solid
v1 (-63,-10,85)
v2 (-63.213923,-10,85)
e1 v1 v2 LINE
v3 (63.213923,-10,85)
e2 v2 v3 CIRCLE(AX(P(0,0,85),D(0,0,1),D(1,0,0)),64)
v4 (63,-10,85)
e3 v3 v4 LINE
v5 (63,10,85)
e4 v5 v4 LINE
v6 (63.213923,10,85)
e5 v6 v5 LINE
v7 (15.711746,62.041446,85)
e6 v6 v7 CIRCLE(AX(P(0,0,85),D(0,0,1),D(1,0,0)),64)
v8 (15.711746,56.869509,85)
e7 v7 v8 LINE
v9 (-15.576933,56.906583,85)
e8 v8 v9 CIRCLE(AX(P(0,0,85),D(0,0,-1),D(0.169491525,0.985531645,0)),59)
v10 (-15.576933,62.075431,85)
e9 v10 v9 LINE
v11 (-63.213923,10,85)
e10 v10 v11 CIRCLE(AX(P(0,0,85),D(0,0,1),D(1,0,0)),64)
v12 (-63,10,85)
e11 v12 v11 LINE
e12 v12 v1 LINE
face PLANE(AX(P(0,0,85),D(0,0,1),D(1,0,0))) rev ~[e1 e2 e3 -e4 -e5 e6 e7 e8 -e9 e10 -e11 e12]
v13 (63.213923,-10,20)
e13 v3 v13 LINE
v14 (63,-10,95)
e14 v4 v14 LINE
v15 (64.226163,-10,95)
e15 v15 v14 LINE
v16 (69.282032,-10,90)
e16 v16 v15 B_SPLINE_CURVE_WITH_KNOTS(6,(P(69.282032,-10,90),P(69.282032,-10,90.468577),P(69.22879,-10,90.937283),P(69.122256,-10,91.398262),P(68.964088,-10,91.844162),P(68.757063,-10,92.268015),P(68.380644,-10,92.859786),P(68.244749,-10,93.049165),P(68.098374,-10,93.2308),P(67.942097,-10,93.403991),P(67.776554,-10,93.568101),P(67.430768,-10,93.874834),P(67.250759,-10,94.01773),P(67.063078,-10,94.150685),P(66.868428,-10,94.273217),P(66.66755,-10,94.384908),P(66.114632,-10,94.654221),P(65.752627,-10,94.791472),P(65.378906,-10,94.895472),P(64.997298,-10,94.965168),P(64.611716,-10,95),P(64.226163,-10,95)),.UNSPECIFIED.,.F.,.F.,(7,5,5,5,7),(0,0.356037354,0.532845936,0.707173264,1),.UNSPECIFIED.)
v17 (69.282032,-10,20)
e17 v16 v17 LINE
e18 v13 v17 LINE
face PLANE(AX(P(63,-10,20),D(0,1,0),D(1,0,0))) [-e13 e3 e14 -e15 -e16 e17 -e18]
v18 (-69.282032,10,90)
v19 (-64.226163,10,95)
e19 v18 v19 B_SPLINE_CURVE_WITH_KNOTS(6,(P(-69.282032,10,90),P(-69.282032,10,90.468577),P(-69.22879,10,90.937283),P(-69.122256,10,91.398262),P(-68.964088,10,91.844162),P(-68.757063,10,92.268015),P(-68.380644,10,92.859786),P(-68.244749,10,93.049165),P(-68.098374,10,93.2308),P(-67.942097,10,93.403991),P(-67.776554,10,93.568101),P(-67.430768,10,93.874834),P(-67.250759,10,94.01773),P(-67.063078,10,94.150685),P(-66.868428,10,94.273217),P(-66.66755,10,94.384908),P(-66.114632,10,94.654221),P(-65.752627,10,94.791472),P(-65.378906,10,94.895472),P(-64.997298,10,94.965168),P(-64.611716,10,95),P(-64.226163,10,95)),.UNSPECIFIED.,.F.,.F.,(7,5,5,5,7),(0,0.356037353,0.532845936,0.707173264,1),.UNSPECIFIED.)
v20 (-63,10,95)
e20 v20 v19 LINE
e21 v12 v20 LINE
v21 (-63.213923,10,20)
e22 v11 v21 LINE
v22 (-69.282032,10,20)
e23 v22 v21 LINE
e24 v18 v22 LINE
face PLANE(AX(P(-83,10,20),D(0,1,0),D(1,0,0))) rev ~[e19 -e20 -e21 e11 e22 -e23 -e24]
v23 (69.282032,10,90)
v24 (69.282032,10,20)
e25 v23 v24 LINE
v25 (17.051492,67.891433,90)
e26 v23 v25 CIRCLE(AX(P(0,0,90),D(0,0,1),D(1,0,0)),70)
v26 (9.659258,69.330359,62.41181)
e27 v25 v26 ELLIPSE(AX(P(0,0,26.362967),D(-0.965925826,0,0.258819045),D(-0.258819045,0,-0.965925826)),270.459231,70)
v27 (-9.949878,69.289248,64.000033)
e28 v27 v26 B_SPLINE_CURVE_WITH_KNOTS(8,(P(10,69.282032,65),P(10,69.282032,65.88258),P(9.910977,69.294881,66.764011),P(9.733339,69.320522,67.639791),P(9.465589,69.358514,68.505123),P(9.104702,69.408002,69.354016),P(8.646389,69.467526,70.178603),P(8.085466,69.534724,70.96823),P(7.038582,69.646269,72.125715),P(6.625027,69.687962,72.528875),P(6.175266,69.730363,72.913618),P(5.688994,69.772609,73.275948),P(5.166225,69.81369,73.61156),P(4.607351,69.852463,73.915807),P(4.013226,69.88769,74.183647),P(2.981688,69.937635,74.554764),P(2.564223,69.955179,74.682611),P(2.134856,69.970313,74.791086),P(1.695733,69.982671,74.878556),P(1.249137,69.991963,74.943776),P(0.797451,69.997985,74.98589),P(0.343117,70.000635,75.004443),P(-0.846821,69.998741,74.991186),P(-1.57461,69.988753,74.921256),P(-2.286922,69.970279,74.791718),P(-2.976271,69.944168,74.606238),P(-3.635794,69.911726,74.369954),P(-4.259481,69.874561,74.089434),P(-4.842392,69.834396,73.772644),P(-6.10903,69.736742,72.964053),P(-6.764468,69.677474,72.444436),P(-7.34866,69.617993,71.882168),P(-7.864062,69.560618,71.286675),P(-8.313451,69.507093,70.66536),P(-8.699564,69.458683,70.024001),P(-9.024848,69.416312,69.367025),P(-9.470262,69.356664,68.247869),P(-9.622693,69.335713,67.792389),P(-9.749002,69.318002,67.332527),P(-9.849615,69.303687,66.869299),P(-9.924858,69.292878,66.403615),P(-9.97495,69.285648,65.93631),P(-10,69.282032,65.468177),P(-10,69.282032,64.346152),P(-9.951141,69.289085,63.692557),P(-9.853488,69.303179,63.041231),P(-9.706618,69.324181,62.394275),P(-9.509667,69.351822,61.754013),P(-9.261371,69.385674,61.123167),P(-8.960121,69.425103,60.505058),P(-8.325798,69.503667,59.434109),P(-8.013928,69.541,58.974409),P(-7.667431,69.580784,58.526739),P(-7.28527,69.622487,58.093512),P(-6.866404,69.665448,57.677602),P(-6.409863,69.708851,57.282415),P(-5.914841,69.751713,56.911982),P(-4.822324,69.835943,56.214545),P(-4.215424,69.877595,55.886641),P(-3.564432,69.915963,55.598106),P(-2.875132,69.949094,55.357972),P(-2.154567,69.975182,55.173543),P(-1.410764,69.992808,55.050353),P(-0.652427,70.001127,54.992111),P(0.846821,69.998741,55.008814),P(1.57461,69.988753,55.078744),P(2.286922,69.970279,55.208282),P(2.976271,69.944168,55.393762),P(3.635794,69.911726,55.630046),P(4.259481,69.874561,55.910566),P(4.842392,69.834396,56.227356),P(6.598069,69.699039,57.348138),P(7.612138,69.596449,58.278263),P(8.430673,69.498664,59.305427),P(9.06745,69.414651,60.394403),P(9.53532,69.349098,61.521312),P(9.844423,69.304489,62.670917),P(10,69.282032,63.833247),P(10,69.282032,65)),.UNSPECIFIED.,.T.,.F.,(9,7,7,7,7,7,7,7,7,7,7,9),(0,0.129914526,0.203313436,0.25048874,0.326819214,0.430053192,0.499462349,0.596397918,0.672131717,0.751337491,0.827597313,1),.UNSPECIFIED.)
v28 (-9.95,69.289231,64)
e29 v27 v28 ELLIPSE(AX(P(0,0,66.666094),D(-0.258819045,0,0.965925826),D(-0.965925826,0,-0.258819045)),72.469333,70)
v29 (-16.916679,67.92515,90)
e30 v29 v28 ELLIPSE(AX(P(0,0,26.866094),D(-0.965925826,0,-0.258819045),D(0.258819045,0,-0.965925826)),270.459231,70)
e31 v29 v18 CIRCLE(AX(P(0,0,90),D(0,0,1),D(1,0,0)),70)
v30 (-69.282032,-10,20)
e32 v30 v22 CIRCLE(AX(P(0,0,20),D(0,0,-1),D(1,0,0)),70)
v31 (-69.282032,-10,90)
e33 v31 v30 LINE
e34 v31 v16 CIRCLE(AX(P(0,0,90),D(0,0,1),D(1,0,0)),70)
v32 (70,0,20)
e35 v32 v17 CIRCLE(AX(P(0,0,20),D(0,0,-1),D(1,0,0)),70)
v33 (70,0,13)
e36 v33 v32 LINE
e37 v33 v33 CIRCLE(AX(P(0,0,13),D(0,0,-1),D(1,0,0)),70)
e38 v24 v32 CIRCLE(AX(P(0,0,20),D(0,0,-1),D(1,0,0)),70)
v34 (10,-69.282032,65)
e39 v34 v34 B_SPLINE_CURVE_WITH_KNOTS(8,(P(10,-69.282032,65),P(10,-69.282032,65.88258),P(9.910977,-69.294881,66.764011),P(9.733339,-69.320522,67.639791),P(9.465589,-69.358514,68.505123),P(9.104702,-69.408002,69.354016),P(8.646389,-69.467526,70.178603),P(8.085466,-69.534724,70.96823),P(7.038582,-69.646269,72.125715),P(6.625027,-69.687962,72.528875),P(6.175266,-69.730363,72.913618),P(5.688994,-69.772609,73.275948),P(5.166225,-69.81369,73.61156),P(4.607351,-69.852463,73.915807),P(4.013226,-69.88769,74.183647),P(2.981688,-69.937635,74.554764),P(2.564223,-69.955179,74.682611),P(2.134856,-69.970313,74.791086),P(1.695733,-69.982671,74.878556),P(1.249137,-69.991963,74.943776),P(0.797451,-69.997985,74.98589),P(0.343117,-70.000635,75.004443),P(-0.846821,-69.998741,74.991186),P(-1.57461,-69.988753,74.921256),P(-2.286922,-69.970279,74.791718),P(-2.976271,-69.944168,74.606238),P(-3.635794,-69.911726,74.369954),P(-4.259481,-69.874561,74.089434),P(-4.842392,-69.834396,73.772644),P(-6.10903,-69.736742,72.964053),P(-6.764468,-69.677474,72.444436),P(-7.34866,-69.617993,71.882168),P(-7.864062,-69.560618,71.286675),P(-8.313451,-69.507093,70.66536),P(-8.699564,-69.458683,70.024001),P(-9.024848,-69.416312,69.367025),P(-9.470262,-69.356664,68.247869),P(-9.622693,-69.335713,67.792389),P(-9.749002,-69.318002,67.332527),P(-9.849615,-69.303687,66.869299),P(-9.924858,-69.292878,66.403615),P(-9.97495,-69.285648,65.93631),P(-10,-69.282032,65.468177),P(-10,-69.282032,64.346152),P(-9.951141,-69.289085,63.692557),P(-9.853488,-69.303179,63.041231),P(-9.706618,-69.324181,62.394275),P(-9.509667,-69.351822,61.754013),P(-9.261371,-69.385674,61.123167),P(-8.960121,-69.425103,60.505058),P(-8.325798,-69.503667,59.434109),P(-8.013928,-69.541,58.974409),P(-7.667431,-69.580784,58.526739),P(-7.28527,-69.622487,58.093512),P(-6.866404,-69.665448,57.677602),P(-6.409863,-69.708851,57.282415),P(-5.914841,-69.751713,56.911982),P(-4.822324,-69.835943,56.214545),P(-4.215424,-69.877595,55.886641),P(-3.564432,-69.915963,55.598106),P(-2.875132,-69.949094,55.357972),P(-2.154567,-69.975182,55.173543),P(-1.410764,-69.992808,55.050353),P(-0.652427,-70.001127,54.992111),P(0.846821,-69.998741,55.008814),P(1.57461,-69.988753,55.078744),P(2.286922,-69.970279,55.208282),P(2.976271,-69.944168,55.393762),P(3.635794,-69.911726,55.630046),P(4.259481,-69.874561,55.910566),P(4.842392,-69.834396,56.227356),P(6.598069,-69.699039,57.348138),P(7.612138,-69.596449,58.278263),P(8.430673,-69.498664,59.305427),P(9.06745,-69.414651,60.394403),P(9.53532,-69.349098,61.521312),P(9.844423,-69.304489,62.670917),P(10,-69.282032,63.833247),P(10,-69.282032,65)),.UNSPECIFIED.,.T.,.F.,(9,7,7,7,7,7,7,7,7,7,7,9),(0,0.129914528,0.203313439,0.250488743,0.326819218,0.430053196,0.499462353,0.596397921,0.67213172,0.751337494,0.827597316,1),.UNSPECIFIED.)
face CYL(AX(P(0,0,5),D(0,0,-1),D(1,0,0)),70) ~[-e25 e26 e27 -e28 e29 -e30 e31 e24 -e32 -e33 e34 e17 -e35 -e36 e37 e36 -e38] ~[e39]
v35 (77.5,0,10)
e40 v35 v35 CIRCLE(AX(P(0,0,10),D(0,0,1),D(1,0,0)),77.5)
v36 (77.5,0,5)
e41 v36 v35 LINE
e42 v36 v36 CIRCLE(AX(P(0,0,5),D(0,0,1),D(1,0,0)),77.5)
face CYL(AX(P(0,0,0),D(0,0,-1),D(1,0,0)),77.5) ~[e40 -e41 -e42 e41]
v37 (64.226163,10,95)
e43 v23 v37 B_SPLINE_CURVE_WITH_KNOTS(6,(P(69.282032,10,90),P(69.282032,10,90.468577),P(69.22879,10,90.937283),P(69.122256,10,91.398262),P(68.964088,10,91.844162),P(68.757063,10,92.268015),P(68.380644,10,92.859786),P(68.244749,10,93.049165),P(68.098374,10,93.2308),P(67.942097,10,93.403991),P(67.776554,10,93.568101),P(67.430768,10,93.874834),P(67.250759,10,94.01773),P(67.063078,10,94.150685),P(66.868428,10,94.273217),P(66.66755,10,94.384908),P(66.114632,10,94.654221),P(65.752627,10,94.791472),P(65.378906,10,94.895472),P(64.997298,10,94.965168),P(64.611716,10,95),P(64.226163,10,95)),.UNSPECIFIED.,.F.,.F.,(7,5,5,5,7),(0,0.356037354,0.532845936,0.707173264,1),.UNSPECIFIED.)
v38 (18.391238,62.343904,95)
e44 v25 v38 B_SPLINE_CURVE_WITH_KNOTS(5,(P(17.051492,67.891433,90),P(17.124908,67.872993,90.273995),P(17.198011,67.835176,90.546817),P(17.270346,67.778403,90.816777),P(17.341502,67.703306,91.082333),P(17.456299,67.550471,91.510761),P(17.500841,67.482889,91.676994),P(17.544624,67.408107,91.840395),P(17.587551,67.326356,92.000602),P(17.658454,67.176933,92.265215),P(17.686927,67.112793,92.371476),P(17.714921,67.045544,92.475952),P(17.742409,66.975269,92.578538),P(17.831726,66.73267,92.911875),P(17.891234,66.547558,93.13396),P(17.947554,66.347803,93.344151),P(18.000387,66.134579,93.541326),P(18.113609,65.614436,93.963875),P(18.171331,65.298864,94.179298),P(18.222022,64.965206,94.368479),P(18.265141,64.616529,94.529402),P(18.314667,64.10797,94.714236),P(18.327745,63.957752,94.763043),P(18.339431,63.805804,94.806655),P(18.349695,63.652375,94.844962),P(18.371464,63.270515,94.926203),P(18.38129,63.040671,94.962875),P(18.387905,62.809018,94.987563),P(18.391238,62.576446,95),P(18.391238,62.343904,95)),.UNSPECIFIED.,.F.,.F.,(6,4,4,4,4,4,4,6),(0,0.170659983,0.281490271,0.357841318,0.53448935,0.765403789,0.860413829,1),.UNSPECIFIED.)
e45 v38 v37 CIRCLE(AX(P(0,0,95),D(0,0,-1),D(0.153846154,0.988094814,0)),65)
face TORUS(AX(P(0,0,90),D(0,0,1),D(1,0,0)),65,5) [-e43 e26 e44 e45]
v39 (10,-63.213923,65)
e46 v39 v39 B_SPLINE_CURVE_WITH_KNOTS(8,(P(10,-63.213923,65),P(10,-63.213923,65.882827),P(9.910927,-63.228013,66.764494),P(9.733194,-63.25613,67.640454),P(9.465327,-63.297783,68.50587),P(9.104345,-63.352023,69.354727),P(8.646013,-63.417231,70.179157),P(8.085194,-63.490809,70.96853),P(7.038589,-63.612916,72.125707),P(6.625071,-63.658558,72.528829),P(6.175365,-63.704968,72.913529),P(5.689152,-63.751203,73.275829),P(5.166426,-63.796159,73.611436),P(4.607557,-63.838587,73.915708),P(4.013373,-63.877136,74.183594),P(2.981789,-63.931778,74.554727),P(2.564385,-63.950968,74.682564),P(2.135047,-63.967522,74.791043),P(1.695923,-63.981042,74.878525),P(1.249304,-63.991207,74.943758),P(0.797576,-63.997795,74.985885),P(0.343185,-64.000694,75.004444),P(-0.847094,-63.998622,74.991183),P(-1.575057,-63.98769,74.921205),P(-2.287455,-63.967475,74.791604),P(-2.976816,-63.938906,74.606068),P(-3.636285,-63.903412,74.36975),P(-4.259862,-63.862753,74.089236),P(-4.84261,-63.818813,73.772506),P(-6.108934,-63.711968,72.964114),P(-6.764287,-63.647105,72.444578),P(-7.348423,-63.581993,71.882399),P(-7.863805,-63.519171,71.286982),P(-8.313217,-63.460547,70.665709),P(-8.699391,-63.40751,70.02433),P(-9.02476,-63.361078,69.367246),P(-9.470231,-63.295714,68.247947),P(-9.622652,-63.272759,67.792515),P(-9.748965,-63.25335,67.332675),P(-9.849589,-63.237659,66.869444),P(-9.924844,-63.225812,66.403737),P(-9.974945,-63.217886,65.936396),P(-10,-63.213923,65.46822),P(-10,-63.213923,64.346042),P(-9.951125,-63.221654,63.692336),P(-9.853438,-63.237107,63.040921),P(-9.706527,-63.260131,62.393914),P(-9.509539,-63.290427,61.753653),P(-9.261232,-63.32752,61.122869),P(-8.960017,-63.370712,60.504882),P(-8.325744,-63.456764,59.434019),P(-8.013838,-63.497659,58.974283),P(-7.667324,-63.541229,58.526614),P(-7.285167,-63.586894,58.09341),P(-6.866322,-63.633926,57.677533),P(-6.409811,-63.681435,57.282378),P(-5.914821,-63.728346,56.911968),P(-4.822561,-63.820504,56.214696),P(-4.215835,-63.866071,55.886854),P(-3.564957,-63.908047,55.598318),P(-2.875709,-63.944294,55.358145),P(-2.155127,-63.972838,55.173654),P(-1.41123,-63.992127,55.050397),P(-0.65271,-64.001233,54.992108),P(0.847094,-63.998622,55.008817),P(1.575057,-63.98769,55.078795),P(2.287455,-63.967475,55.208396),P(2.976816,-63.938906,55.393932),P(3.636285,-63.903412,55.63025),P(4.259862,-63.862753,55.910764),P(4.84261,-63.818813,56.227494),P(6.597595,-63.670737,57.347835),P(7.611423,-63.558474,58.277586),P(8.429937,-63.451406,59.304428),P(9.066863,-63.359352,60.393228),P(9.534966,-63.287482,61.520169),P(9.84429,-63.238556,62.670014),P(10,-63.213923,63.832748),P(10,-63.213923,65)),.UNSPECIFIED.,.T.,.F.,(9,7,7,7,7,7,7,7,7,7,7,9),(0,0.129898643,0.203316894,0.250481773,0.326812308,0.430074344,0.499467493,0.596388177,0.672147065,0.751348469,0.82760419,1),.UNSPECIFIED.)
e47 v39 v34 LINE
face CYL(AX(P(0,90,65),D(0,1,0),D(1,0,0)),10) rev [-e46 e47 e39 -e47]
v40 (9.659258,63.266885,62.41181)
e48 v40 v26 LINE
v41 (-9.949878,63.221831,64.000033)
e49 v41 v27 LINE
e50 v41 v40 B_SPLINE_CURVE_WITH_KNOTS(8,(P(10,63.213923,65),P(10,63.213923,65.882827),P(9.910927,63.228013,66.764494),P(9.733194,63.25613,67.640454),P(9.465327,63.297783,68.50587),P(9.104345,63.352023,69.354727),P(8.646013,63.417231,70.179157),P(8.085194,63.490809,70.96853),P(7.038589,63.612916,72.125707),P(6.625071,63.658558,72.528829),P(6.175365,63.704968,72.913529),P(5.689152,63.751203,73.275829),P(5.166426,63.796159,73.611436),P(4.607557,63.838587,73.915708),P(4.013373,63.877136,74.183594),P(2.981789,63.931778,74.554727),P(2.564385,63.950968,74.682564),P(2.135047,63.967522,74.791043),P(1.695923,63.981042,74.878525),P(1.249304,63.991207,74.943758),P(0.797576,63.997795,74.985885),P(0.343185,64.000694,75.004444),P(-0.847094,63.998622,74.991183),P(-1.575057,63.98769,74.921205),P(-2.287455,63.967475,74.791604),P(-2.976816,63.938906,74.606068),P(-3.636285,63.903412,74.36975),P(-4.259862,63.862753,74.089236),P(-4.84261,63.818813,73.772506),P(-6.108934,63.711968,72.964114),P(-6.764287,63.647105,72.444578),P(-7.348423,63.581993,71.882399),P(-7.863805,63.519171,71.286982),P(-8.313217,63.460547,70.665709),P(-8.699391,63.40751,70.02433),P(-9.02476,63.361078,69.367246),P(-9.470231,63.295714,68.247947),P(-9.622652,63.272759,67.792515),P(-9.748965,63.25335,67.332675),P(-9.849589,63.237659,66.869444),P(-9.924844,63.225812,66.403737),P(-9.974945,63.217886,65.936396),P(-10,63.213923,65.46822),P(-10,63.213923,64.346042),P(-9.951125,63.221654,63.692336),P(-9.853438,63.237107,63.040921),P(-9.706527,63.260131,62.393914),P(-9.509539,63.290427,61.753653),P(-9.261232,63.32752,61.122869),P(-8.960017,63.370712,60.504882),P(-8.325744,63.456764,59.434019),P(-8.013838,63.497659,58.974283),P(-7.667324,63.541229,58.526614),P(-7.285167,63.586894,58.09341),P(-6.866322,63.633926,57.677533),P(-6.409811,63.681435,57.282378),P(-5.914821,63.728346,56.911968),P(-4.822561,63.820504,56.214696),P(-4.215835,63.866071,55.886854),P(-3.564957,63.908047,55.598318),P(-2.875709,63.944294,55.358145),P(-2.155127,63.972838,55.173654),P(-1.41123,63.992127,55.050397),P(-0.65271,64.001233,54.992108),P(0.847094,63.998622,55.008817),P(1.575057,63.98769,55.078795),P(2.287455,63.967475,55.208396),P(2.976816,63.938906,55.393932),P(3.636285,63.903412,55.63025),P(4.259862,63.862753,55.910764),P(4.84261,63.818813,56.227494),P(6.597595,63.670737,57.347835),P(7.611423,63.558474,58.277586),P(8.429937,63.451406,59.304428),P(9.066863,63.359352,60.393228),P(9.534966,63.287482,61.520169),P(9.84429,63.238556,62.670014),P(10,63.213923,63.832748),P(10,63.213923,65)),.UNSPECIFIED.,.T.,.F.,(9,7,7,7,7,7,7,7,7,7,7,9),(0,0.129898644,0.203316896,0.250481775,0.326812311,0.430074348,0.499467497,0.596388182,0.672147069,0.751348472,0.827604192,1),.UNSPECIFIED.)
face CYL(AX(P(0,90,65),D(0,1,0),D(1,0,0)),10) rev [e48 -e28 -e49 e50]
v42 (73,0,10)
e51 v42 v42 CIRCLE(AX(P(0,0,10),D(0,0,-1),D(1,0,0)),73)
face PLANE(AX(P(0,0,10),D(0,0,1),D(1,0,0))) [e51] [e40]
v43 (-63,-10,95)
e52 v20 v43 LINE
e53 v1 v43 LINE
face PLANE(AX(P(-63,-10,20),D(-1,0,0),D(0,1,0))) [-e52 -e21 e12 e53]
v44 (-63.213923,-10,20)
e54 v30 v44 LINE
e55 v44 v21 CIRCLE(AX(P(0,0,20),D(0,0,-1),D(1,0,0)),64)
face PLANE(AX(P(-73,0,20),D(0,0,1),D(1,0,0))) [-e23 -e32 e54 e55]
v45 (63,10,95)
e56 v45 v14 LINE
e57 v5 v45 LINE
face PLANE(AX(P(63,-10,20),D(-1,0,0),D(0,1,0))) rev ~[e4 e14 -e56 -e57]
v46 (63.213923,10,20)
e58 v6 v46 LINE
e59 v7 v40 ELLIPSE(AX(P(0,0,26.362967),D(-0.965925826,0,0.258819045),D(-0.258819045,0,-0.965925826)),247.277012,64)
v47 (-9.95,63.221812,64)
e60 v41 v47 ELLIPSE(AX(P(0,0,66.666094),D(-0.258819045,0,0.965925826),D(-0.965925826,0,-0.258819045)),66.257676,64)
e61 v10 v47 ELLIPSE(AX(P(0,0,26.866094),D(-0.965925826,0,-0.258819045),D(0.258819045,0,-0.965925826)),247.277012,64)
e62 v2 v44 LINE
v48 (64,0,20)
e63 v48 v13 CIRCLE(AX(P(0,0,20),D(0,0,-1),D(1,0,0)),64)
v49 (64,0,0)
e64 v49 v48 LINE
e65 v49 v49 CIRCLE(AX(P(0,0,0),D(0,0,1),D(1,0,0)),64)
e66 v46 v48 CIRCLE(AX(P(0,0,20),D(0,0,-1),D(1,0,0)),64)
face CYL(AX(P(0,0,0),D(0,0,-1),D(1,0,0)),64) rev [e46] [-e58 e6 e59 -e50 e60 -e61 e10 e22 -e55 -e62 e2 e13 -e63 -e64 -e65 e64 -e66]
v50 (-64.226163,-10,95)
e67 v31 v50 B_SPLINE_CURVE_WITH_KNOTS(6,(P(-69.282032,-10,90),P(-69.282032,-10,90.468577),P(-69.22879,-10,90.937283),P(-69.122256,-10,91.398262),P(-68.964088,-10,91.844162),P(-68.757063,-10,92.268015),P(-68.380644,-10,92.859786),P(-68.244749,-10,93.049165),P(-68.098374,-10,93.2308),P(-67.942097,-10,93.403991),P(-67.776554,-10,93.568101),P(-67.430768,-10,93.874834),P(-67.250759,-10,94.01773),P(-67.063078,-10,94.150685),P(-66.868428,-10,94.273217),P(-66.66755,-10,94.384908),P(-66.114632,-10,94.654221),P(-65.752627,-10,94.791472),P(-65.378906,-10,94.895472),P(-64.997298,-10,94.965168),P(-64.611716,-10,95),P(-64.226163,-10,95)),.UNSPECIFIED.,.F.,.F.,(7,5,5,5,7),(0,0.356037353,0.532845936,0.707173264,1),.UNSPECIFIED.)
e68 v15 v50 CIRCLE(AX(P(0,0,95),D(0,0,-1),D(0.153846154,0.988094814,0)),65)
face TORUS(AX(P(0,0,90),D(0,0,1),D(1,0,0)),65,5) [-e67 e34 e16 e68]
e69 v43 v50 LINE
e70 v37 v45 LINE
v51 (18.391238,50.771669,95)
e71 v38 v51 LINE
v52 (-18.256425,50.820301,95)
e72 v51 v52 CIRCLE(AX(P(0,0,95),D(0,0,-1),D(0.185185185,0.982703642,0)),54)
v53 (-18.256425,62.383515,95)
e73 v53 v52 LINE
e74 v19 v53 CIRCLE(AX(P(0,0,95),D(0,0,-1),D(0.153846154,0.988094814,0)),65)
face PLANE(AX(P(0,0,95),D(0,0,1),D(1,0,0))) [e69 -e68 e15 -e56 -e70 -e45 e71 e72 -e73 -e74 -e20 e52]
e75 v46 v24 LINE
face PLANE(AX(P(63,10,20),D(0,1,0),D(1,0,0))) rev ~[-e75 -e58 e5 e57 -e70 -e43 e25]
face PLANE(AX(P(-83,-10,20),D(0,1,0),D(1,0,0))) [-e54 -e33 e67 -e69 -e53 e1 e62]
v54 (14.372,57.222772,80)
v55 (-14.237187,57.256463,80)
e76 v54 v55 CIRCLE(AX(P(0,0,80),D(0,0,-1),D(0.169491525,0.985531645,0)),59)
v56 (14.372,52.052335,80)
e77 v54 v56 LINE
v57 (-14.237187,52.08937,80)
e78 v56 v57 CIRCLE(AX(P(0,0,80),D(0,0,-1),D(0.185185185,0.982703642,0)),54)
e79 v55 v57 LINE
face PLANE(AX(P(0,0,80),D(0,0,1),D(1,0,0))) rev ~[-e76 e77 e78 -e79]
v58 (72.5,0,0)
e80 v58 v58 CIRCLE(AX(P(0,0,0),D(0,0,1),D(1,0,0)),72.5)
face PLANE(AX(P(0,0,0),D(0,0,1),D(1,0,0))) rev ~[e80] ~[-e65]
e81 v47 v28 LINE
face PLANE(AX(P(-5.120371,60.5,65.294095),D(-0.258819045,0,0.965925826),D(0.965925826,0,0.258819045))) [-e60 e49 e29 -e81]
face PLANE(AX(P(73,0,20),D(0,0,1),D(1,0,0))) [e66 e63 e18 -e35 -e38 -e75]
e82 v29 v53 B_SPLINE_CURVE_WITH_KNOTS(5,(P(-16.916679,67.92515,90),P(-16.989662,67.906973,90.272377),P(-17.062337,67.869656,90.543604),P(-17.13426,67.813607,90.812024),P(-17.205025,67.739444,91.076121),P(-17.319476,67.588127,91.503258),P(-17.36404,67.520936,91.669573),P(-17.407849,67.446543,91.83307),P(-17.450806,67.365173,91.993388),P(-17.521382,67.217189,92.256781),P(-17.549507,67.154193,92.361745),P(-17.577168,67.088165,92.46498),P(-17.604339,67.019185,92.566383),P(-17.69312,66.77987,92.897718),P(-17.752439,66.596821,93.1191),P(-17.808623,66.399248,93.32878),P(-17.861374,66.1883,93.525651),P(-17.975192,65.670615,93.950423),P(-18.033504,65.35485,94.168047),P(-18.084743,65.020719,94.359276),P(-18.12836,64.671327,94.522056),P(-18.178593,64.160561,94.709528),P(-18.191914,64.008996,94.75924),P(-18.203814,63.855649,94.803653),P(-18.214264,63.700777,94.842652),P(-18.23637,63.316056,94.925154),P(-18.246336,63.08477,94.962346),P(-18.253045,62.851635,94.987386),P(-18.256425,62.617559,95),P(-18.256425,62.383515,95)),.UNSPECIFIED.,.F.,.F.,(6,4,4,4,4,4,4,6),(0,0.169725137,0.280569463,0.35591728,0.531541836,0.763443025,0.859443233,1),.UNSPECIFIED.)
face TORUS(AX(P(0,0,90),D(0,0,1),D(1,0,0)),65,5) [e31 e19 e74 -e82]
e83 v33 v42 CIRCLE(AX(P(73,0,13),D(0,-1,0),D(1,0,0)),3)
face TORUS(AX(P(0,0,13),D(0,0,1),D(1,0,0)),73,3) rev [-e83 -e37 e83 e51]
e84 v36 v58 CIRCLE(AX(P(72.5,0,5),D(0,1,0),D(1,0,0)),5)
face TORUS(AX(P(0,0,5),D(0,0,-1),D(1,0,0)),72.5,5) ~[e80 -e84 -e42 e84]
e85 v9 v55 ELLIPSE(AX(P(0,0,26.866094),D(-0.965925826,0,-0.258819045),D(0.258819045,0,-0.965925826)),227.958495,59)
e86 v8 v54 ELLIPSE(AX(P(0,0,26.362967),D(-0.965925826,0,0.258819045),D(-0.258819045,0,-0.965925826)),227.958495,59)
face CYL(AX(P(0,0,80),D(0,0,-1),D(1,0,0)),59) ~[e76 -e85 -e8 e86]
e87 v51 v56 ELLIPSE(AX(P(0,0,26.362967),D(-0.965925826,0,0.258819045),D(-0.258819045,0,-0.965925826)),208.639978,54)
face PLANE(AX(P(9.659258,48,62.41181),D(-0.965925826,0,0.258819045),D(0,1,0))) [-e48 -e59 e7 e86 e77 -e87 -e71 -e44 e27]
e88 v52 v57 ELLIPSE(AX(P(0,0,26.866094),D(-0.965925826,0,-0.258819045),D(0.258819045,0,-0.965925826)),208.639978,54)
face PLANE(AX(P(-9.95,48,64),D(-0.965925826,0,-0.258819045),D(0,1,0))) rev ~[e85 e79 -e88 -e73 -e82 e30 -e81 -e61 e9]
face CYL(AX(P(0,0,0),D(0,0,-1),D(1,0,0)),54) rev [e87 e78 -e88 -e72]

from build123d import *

# Parameters (mm, degrees)
BOX004_W               = 20
BOX004_H               = 20
BOX004_DEPTH           = 80
BOX003_W               = 20
BOX003_H               = 20
BOX003_DEPTH           = 80
BOX002_W               = 10
BOX002_H               = 25
BOX002_DEPTH           = 35
BOX002_PITCH_ANGLE     = -15
BOX001_W               = 10
BOX001_H               = 25
BOX001_DEPTH           = 35
BOX001_PITCH_ANGLE     = 15
BOX_W                  = 20
BOX_H                  = 25
BOX_DEPTH              = 35
CYLINDER005_R          = 10
CYLINDER005_DEPTH      = 180
CYLINDER005_ROLL_ANGLE = 90
CYLINDER004_R          = 54
CYLINDER004_DEPTH      = 100
CYLINDER003_R          = 59
CYLINDER003_DEPTH      = 10
CYLINDER002_R          = 64
CYLINDER002_DEPTH      = 85
CYLINDER001_R          = 70
CYLINDER001_DEPTH      = 90
CYLINDER_R             = 77.5
CYLINDER_DEPTH         = 10
FILLET_R               = 3
FILLET001_R            = 5
FILLET002_R            = 5


with BuildPart() as tab_cut_l:
    # Box004 → Box004 (new body)
    with BuildSketch(Plane(origin=(-83, -10, 20), x_dir=(1, 0, 0), z_dir=(0, 0, 1))):
        with Locations((10, 10)):
            Rectangle(BOX004_W, BOX004_H)
    extrude(amount=BOX004_DEPTH)


with BuildPart() as tab_cut_r:
    # Box003 → Box003 (new body)
    with BuildSketch(Plane(origin=(63, -10, 20), x_dir=(1, 0, 0), z_dir=(0, 0, 1))):
        with Locations((10, 10)):
            Rectangle(BOX003_W, BOX003_H)
    extrude(amount=BOX003_DEPTH)


with BuildPart() as cube001:
    # Box002 → Box002 (new body)
    with BuildSketch(Plane.XY):
        with Locations((5, 12.5)):
            Rectangle(BOX002_W, BOX002_H)
    extrude(amount=BOX002_DEPTH)


with BuildPart() as cube001_1:
    # Box002 pitch: moved
    add(cube001.part.rotate(Axis((0, 0, 0), (0, 1, 0)), BOX002_PITCH_ANGLE))


with BuildPart() as cube001_2:
    # Box002 placement: moved
    add(cube001_1.part.moved(Location((-9.95, 48, 64))))


with BuildPart() as cube:
    # Box001 → Box001 (new body)
    with BuildSketch(Plane.XY):
        with Locations((5, 12.5)):
            Rectangle(BOX001_W, BOX001_H)
    extrude(amount=BOX001_DEPTH)


with BuildPart() as cube_1:
    # Box001 pitch: moved
    add(cube.part.rotate(Axis((0, 0, 0), (0, 1, 0)), BOX001_PITCH_ANGLE))


with BuildPart() as cube_2:
    # Box001 placement: moved
    add(cube_1.part.moved(Location((0, 48, 65))))


with BuildPart() as bearing_slot:
    # Box → Box (new body)
    with BuildSketch(Plane(origin=(-10, 48, 65), x_dir=(1, 0, 0), z_dir=(0, 0, 1))):
        with Locations((10, 12.5)):
            Rectangle(BOX_W, BOX_H)
    extrude(amount=BOX_DEPTH)


with BuildPart() as bearing_holes:
    # Cylinder005 → Cylinder005 (new body)
    with BuildSketch(Plane.XY):
        Circle(CYLINDER005_R)
    extrude(amount=CYLINDER005_DEPTH)


with BuildPart() as bearing_holes_1:
    # Cylinder005 roll: moved
    add(bearing_holes.part.rotate(Axis((0, 0, 0), (1, 0, 0)), CYLINDER005_ROLL_ANGLE))


with BuildPart() as bearing_holes_2:
    # Cylinder005 placement: moved
    add(bearing_holes_1.part.moved(Location((0, 90, 65))))


with BuildPart() as through_hole:
    # Cylinder004 → Cylinder004 (new body)
    with BuildSketch(Plane.XY):
        Circle(CYLINDER004_R)
    extrude(amount=CYLINDER004_DEPTH)


with BuildPart() as inner_lip:
    # Cylinder003 → Cylinder003 (new body)
    with BuildSketch(Plane.XY.offset(80)):
        Circle(CYLINDER003_R)
    extrude(amount=CYLINDER003_DEPTH)


with BuildPart() as inner_hole:
    # Cylinder002 → Cylinder002 (new body)
    with BuildSketch(Plane.XY):
        Circle(CYLINDER002_R)
    extrude(amount=CYLINDER002_DEPTH)


with BuildPart() as body_cylinder:
    # Cylinder001 → Cylinder001 (new body)
    with BuildSketch(Plane.XY.offset(5)):
        Circle(CYLINDER001_R)
    extrude(amount=CYLINDER001_DEPTH)


with BuildPart() as cut007:
    # Cylinder → Cylinder (new body)
    with BuildSketch(Plane.XY):
        Circle(CYLINDER_R)
    extrude(amount=CYLINDER_DEPTH)

    # Fusion: union Body_Cylinder
    add(body_cylinder.part)

    # Cut: cut Inner_Hole
    add(inner_hole.part, mode=Mode.SUBTRACT)

    # Fusion001: union Inner_Lip
    add(inner_lip.part)

    # Cut001: cut Through_Hole
    add(through_hole.part, mode=Mode.SUBTRACT)

    # Fillet
    fillet_edges = [cut007.edges().sort_by_distance(p)[0] for p in [
        (-70, 0, 10),
    ]]
    fillet(fillet_edges, radius=FILLET_R)

    # Fillet001
    fillet001_edges = [cut007.edges().sort_by_distance(p)[0] for p in [
        (-77.5, 0, 0),
    ]]
    fillet(fillet001_edges, radius=FILLET001_R)

    # Fillet002
    fillet002_edges = [cut007.edges().sort_by_distance(p)[0] for p in [
        (-70, 0, 95),
    ]]
    fillet(fillet002_edges, radius=FILLET002_R)

    # Cut002: cut Bearing_Holes
    add(bearing_holes_2.part, mode=Mode.SUBTRACT)

    # Cut003: cut Bearing_Slot
    add(bearing_slot.part, mode=Mode.SUBTRACT)

    # Cut004: cut Cube
    add(cube_2.part, mode=Mode.SUBTRACT)

    # Cut005: cut Cube001
    add(cube001_2.part, mode=Mode.SUBTRACT)

    # Cut006: cut Tab_Cut_R
    add(tab_cut_r.part, mode=Mode.SUBTRACT)

    # Cut007: cut Tab_Cut_L
    add(tab_cut_l.part, mode=Mode.SUBTRACT)


solid = cut007.part
